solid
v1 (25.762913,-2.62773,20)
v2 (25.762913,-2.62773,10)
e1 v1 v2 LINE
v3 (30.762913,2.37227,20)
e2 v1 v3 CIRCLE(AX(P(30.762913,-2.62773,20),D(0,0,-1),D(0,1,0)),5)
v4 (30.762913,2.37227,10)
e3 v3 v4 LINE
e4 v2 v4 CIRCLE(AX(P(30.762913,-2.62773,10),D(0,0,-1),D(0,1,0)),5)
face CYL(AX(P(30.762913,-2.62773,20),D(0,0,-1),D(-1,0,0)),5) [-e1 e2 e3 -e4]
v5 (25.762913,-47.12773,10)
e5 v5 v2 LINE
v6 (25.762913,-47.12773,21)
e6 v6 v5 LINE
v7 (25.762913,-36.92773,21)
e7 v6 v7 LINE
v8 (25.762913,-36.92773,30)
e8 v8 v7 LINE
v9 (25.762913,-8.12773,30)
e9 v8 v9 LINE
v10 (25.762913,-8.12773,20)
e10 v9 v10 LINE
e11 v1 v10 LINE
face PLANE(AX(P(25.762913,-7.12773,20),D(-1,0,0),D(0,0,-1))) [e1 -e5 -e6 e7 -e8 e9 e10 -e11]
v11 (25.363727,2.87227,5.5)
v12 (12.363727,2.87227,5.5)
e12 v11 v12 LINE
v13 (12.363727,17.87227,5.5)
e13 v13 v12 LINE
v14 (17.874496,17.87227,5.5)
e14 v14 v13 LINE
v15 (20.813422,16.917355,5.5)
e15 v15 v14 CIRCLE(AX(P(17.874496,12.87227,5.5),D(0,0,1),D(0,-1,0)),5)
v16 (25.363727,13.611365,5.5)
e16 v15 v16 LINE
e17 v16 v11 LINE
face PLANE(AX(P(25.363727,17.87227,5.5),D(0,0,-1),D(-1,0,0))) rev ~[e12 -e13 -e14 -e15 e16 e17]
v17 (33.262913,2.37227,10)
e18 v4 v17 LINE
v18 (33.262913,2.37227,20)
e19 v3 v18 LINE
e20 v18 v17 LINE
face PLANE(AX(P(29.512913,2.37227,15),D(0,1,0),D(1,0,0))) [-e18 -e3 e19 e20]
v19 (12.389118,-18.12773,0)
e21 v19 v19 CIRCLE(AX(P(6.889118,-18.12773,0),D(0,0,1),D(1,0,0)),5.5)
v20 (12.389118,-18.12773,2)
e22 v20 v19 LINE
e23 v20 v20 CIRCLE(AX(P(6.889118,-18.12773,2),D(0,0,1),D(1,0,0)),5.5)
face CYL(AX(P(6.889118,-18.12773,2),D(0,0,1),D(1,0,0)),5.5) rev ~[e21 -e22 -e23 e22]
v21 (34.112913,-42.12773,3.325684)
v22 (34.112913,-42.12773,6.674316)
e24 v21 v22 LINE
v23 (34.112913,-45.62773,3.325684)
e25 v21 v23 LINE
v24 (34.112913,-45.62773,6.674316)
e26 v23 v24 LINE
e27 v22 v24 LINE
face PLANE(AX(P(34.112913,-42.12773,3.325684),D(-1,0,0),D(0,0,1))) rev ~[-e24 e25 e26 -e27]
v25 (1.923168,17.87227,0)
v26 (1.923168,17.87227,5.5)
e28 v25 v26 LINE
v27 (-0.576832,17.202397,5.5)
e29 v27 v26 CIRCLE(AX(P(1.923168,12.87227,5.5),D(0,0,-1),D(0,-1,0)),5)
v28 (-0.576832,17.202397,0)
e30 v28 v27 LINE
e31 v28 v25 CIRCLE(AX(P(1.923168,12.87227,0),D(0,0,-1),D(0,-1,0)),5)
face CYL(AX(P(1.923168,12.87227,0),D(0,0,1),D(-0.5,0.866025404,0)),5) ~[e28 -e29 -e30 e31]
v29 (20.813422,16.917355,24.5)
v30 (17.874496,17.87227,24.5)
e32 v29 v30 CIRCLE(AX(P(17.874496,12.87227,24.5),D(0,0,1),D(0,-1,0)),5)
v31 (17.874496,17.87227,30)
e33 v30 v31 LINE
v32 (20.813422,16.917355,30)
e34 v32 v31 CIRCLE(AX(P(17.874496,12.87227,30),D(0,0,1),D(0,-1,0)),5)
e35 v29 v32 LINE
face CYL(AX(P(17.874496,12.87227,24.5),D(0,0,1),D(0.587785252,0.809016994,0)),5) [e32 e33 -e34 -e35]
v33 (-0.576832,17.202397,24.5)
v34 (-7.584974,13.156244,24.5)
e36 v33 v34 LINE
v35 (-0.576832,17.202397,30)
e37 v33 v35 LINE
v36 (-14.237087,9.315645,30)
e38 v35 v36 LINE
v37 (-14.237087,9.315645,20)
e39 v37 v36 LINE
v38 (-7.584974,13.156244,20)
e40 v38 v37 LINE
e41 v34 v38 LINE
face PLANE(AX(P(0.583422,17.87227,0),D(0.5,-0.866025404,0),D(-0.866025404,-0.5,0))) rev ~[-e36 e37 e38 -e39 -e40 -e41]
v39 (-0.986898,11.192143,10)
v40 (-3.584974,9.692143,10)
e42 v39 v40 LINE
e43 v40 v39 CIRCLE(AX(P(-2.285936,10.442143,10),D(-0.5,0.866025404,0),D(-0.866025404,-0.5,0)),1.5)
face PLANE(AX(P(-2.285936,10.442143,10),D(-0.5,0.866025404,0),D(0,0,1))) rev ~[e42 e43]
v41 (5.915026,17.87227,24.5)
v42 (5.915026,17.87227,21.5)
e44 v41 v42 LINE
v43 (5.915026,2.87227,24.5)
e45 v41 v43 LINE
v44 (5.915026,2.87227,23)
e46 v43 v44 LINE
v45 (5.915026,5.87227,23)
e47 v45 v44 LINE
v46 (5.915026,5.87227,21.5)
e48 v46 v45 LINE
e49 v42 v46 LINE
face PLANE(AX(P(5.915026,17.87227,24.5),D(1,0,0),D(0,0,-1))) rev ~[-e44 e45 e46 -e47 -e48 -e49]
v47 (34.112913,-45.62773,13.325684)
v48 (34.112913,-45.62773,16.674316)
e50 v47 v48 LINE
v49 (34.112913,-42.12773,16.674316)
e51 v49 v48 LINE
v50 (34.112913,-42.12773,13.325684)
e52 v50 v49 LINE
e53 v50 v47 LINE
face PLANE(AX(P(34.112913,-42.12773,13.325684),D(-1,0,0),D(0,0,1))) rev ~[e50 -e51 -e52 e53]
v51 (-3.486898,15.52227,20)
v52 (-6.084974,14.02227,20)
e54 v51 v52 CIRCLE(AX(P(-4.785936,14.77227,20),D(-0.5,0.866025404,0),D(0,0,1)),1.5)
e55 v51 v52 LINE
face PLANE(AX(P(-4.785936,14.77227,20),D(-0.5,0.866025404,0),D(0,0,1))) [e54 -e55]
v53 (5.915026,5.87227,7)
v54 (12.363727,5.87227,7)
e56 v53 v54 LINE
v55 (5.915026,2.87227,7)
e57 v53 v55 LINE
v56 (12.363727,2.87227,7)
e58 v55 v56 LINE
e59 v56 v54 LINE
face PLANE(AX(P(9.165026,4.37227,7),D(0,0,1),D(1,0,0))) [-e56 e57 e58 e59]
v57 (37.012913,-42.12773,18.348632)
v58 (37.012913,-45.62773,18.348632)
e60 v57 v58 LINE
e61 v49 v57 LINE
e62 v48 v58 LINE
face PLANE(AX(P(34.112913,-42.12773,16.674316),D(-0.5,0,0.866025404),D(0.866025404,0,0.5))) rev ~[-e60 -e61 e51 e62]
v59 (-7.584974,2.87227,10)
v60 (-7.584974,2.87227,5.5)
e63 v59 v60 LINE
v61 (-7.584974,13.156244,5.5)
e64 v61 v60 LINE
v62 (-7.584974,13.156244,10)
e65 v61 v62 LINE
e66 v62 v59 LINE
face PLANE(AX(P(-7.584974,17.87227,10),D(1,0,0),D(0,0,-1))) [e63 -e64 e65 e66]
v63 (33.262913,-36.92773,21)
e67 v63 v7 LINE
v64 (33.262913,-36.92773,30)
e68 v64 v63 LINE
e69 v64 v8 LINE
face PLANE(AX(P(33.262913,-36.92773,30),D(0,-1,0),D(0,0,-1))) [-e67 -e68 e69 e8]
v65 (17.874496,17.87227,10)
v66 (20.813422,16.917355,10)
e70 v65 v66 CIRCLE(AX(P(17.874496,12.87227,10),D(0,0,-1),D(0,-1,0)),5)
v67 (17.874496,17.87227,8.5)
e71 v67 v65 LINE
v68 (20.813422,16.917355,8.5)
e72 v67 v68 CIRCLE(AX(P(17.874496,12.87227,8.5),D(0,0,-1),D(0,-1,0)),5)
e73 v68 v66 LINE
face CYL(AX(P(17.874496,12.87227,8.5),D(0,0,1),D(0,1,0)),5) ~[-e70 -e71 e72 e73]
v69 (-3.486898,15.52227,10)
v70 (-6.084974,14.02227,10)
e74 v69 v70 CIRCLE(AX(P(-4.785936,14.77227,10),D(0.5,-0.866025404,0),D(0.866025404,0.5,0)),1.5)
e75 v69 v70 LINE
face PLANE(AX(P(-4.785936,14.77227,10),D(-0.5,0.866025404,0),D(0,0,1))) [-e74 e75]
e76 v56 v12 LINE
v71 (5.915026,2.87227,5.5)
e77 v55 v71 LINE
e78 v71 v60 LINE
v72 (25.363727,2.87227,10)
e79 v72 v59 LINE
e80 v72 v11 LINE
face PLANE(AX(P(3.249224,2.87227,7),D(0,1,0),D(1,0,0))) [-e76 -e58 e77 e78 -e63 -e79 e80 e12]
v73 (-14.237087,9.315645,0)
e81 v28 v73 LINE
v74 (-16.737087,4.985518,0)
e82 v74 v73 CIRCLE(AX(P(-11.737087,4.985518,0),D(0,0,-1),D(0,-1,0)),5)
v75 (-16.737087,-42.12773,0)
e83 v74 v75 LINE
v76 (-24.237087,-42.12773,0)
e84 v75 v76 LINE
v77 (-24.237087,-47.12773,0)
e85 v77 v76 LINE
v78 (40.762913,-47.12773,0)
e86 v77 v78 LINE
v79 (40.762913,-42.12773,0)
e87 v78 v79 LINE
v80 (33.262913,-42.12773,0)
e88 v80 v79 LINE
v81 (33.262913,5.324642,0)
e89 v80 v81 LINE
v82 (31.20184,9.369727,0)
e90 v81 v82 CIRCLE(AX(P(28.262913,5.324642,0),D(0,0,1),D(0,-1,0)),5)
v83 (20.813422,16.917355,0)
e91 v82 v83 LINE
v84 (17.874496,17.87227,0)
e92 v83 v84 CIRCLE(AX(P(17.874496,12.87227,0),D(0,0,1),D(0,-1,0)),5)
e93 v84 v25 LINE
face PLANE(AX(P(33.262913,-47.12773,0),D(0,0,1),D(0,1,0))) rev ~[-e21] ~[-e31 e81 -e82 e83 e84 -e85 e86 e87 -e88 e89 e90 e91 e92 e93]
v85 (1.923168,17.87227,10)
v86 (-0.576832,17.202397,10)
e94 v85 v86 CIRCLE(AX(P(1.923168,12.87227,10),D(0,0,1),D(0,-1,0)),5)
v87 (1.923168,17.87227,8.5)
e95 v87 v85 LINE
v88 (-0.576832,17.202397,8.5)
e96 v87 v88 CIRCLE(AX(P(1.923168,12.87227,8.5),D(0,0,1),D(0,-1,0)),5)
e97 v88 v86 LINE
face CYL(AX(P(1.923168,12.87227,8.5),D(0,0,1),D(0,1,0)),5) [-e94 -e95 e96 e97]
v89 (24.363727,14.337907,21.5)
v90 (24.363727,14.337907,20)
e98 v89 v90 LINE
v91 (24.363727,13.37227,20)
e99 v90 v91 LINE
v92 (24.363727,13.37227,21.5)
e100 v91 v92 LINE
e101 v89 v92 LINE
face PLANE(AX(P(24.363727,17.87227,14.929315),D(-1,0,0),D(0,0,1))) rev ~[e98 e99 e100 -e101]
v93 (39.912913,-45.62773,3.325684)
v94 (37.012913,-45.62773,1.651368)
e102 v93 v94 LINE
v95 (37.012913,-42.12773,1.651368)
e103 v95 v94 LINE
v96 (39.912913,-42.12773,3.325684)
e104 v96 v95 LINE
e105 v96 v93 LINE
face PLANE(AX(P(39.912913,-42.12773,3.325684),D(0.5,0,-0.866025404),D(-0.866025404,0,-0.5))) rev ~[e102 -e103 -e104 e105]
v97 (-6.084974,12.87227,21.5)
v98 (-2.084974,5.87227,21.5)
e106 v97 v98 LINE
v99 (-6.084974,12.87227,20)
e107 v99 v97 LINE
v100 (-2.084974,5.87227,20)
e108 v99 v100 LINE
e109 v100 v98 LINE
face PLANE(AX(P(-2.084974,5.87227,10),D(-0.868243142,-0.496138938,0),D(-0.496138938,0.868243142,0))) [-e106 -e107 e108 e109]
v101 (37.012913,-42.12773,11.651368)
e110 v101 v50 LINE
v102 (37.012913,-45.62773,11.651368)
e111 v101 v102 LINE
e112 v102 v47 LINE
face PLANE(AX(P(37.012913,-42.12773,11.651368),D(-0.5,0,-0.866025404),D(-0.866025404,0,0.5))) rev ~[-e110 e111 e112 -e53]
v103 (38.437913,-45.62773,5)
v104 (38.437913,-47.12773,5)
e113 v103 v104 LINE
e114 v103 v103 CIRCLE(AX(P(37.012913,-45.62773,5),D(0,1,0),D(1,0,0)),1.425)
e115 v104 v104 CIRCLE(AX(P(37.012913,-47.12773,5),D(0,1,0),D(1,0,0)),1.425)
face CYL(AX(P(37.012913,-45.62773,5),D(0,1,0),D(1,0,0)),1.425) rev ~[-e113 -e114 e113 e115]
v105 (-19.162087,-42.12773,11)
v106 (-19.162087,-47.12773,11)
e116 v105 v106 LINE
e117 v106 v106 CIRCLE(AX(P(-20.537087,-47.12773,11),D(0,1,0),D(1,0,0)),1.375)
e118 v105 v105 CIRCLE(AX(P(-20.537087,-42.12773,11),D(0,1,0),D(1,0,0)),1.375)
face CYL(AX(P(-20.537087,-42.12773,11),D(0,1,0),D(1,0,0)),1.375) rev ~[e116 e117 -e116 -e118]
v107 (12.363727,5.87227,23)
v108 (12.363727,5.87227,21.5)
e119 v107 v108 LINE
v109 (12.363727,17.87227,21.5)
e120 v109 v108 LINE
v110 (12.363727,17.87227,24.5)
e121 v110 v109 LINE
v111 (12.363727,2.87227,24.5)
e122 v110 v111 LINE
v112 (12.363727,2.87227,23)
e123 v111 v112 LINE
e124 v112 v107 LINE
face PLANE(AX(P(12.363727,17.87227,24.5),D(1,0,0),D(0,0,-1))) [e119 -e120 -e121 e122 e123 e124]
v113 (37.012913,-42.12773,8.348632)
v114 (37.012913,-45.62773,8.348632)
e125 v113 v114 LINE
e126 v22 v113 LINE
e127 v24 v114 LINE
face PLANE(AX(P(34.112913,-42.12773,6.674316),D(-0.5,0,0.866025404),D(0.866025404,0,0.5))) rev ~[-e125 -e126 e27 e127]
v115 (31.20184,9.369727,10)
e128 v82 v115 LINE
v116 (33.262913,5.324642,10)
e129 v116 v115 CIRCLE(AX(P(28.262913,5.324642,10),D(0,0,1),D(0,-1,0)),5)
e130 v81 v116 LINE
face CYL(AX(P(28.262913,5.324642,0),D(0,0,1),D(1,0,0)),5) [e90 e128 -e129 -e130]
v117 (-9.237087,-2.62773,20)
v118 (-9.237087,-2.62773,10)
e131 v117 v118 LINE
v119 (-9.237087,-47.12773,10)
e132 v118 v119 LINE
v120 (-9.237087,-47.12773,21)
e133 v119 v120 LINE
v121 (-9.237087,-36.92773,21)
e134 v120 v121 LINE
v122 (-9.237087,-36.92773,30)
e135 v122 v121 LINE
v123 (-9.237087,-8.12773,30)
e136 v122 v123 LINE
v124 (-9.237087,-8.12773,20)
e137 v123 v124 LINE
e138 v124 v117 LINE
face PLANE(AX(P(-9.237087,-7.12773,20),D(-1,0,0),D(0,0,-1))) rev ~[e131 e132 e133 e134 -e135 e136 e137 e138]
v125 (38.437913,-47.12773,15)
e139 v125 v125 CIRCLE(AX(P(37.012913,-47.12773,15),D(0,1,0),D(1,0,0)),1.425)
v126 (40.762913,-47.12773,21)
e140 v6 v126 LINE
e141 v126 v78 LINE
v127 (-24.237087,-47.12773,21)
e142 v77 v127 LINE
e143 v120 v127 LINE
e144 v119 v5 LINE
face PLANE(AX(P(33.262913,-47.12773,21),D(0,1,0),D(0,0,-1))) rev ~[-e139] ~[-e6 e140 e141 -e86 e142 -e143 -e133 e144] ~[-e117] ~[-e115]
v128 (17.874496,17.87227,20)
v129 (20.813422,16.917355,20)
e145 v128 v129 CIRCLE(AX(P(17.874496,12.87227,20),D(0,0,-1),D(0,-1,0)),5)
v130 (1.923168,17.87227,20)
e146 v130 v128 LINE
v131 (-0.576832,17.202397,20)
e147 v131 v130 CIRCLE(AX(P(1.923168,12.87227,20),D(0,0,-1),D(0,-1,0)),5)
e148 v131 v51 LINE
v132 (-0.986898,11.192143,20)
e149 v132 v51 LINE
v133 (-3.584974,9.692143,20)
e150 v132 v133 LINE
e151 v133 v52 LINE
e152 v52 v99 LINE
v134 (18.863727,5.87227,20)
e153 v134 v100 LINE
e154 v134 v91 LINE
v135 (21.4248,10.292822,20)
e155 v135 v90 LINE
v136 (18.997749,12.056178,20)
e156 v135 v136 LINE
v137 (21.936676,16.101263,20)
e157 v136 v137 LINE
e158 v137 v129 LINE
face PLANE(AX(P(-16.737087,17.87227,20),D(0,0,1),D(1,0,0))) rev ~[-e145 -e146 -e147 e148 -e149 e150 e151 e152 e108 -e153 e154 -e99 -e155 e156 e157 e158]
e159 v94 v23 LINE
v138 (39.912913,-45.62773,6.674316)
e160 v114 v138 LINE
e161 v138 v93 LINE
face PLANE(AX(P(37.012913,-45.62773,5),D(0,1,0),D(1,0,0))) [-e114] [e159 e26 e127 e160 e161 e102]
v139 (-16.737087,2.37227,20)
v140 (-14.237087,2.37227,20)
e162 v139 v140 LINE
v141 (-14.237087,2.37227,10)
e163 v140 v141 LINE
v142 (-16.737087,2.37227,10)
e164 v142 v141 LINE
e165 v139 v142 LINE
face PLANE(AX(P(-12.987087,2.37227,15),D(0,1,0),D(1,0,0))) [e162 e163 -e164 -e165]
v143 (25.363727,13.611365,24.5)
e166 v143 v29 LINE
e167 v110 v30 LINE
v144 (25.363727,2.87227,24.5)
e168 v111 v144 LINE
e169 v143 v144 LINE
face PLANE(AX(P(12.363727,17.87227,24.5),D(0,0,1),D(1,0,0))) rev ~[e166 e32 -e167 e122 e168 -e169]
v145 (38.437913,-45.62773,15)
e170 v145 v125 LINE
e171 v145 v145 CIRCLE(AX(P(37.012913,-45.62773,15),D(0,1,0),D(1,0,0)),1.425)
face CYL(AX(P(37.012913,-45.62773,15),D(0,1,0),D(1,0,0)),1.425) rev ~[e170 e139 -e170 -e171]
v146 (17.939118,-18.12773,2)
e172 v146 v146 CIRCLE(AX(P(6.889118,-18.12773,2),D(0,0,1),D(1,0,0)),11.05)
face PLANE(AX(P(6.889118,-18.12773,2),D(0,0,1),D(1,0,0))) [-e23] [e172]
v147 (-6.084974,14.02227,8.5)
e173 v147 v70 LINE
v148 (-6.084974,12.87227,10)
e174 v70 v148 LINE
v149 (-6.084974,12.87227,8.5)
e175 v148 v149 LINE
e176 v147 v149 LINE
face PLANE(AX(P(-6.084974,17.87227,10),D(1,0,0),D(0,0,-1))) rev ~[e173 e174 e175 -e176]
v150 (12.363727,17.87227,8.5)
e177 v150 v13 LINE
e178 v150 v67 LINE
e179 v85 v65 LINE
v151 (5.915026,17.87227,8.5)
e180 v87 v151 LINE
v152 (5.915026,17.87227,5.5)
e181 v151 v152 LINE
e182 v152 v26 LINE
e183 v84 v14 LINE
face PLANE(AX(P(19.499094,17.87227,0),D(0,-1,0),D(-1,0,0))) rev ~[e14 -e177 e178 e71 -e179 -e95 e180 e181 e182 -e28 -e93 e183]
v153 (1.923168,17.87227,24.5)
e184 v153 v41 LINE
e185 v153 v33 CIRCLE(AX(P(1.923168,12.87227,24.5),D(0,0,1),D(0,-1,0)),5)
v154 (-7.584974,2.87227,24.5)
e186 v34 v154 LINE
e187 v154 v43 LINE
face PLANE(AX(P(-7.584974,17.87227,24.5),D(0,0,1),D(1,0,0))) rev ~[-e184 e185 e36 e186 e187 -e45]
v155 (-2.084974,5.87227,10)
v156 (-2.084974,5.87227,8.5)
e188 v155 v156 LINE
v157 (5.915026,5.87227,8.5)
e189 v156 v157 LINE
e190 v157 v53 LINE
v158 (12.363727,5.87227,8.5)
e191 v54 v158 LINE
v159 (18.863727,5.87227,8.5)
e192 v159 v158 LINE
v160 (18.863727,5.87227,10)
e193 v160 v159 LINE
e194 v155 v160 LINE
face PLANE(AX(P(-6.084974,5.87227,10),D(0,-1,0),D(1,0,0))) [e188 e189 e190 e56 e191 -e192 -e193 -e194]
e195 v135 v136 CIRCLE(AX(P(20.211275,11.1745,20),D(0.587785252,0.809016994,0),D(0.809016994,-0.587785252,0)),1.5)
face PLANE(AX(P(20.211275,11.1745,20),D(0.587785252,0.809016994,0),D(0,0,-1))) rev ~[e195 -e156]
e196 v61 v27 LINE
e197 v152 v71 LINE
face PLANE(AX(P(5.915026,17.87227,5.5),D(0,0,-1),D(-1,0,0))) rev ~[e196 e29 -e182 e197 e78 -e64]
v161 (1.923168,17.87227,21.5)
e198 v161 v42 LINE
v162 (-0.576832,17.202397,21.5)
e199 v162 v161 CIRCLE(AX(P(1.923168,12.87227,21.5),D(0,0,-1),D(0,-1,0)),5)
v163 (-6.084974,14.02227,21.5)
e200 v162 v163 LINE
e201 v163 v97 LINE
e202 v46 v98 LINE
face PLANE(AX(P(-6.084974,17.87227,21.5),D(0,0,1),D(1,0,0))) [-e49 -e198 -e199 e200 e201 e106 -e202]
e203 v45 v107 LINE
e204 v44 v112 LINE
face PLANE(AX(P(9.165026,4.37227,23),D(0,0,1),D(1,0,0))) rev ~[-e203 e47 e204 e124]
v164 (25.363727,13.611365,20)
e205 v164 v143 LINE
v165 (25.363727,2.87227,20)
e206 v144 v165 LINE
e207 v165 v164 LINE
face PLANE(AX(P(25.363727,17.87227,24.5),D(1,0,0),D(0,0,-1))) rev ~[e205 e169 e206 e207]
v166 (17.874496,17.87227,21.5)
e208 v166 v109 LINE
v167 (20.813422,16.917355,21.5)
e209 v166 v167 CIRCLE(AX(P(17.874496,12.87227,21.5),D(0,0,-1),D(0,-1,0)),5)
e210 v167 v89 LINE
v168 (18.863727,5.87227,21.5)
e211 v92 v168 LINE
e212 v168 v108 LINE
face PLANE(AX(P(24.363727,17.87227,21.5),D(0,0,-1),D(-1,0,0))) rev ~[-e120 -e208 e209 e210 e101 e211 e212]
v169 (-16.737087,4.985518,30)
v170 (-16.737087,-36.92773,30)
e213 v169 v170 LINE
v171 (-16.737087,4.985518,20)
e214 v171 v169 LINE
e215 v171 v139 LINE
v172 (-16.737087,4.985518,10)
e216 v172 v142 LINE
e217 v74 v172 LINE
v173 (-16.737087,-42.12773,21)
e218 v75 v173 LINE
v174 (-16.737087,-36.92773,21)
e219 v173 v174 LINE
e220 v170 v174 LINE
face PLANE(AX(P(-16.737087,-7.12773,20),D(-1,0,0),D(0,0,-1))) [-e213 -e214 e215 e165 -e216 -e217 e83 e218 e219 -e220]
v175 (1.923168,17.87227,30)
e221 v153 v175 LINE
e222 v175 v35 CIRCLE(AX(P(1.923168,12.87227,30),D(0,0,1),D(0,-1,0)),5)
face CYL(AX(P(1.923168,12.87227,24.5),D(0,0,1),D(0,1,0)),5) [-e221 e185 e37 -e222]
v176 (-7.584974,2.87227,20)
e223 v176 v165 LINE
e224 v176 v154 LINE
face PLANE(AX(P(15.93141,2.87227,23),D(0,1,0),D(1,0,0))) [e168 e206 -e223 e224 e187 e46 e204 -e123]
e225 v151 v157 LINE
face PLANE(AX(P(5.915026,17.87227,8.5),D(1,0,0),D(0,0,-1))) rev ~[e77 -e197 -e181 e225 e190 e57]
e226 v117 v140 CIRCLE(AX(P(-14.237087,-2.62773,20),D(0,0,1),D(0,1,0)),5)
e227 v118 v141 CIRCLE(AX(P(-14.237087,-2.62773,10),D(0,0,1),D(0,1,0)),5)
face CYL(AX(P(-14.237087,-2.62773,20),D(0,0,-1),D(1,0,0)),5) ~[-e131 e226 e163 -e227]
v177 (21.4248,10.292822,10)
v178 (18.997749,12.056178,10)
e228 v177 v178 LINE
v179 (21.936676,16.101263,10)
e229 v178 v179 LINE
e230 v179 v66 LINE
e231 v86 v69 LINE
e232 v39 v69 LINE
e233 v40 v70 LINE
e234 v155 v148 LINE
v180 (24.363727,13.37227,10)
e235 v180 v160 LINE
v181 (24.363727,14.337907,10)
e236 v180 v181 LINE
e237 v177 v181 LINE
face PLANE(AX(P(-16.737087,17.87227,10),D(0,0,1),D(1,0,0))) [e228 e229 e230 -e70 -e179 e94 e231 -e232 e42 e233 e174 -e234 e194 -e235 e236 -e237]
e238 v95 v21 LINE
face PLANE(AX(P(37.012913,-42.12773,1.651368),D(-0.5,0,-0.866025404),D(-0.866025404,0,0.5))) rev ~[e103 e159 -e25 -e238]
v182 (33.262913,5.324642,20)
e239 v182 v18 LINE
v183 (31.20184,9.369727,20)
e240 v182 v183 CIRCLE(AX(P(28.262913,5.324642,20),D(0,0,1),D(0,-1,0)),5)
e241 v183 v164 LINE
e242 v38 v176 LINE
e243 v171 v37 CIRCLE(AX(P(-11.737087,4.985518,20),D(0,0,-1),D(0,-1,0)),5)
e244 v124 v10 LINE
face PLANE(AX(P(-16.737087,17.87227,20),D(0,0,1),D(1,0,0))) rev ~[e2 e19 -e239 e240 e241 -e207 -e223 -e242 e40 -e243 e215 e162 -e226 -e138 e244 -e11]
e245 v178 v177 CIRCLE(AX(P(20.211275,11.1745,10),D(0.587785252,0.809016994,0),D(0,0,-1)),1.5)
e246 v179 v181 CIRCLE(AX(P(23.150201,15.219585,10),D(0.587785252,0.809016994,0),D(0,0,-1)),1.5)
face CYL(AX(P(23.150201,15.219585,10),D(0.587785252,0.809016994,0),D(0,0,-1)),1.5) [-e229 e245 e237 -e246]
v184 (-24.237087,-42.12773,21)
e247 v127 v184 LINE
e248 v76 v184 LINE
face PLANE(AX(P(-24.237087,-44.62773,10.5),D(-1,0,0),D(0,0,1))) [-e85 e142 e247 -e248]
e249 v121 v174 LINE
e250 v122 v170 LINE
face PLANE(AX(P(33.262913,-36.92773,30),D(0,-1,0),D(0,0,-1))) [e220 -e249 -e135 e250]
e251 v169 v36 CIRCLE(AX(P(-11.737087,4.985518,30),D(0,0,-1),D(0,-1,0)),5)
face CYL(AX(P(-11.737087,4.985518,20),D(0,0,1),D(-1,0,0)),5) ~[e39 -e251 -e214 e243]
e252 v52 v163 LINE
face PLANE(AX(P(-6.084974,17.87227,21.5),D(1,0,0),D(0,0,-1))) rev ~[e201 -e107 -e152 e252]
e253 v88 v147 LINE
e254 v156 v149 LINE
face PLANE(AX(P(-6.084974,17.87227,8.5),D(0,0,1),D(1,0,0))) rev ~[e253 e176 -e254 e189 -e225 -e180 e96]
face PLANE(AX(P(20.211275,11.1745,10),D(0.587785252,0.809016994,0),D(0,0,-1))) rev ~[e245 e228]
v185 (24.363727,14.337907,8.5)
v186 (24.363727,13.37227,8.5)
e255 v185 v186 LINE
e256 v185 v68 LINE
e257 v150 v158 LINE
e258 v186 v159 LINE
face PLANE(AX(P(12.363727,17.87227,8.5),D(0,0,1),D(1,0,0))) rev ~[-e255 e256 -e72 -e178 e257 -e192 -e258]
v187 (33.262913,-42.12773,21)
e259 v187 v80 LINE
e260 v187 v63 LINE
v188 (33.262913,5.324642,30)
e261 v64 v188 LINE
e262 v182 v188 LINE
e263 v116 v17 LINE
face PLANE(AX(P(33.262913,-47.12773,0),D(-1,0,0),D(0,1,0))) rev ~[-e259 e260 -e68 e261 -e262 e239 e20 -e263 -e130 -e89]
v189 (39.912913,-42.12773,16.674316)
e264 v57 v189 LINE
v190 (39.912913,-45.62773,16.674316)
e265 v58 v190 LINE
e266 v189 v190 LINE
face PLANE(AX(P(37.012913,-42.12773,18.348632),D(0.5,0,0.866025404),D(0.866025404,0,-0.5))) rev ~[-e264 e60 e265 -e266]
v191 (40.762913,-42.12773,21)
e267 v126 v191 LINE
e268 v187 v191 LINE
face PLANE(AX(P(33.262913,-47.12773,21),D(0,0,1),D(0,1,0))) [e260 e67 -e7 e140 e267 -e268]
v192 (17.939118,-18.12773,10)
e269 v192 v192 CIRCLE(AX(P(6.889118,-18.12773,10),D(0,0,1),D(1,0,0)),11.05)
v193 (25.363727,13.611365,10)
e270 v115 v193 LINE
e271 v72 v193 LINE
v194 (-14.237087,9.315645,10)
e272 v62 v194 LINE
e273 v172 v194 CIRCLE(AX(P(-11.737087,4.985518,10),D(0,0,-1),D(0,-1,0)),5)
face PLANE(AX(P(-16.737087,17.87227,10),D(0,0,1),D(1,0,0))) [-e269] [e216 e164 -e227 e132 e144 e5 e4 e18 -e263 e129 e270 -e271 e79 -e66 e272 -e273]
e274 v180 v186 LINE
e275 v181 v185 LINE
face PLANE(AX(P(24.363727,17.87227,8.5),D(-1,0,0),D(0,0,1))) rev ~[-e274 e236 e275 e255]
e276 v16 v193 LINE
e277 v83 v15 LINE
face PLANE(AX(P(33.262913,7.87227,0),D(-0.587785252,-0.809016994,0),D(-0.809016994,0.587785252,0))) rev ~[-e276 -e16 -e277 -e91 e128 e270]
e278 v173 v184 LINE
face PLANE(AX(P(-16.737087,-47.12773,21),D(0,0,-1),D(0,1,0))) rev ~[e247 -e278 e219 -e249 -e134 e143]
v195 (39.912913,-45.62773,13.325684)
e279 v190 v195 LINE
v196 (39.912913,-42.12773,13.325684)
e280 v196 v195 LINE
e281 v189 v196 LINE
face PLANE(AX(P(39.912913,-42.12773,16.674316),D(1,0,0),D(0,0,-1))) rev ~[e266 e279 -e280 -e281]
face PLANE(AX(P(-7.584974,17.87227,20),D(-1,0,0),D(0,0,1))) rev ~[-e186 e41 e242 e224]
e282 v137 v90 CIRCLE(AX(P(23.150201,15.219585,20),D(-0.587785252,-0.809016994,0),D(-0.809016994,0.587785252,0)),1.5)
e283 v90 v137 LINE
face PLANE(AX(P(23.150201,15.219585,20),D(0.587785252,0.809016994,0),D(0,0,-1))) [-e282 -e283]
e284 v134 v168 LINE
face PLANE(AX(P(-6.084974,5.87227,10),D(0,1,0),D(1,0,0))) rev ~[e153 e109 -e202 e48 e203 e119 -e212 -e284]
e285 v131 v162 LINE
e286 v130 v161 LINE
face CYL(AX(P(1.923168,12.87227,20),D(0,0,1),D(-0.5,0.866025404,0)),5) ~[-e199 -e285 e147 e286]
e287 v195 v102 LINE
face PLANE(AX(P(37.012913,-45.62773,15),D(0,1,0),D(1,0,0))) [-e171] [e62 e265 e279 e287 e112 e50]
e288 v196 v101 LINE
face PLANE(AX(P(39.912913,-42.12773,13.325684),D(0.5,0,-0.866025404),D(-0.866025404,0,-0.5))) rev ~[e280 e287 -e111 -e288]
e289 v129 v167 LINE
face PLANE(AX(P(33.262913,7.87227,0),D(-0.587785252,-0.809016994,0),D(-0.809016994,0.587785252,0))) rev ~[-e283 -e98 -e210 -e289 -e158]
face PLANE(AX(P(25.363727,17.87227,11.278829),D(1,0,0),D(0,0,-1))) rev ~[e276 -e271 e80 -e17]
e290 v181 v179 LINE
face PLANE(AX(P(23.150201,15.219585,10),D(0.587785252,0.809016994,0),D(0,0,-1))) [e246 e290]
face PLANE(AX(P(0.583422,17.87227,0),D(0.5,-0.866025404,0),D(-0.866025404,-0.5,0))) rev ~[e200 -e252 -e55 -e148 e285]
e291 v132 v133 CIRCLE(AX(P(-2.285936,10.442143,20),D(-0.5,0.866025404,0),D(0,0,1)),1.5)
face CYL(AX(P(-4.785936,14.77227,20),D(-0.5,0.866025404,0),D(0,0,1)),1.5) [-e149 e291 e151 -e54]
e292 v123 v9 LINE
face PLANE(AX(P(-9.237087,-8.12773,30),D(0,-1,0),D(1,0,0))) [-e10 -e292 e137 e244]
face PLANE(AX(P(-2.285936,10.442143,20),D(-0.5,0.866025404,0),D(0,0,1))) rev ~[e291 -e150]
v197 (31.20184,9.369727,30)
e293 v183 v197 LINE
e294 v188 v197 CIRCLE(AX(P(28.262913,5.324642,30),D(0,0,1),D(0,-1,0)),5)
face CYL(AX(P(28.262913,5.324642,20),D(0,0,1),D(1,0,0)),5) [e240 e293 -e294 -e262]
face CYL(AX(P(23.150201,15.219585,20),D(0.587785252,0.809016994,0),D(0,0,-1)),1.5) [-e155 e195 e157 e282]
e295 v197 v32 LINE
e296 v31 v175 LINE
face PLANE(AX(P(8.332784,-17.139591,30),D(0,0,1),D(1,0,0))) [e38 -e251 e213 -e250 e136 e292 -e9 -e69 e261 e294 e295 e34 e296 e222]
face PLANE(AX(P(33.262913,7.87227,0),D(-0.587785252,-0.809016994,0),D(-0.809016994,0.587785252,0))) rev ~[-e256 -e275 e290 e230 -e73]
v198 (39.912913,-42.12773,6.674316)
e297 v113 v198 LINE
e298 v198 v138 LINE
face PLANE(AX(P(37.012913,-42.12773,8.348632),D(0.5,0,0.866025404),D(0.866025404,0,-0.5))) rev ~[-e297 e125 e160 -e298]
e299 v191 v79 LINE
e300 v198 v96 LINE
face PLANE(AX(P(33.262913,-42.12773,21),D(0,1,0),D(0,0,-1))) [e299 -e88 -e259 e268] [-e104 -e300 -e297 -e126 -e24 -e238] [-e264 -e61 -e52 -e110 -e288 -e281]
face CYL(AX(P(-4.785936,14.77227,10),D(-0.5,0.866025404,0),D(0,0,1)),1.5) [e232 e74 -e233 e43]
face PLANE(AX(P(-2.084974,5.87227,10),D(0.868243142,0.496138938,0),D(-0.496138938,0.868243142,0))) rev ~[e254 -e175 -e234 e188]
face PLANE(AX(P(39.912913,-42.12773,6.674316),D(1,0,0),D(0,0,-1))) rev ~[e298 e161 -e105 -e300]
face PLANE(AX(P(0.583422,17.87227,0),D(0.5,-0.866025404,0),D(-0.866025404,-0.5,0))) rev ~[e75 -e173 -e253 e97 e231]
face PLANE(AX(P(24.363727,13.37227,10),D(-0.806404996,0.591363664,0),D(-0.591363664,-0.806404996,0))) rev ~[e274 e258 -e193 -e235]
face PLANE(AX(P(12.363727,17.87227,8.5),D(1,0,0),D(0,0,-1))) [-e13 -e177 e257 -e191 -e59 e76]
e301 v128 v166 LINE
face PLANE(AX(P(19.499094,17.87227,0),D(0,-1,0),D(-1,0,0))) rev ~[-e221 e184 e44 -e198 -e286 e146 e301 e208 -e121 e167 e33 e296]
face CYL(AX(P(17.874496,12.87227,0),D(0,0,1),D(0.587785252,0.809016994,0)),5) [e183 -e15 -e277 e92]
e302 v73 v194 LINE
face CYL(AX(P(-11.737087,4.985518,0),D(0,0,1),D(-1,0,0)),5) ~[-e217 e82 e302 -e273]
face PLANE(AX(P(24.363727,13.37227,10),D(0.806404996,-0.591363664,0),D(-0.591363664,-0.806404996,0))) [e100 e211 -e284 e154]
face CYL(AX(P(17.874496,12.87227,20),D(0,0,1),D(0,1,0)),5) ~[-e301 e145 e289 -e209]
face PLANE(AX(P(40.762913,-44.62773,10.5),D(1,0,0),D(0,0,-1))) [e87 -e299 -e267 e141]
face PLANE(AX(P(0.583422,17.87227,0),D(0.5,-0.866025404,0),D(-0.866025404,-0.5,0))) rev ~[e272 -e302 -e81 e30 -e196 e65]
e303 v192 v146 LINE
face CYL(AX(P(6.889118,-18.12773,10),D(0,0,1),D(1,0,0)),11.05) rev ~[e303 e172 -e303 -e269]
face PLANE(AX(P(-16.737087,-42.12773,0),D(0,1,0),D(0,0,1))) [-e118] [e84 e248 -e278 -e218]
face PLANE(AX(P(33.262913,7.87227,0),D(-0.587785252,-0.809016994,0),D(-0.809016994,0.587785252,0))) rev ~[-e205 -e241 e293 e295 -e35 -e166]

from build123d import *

# Parameters (mm, degrees)
BOSS_EXTRUDE1_DEPTH      = 30
SKETCH2_W                = 50
SKETCH2_H                = 10
CUT_EXTRUDE1_DEPTH       = 25
SKETCH4_R                = 1.5
BOSS_EXTRUDE2_DEPTH      = 5
SKETCH6_W                = 5.331604391
SKETCH6_H                = 3
SKETCH6_W_2              = 6.668395609
SKETCH6_W_3              = 12
SKETCH6_W_4              = 1.5
SKETCH6_H_2              = 4.5
CUT_EXTRUDE15_DEPTH      = 15
SKETCH7_W                = 30.5
SKETCH7_H                = 3
CUT_EXTRUDE16_DEPTH      = 13
CUT_EXTRUDE16_DEPTH_BACK = 3
SKETCH8_W                = 35
SKETCH8_H                = 39
CUT_EXTRUDE17_DEPTH      = 10
SKETCH3_W                = 35
SKETCH3_H                = 10
CUT_EXTRUDE18_DEPTH      = 40
SKETCH9_R                = 11.05
CUT_EXTRUDE19_DEPTH      = 8
FILLET5_R                = 5
FILLET6_R                = 5
FILLET7_R                = 5
FILLET8_R                = 5
FILLET9_R                = 5
FILLET10_R               = 5
SKETCH10_W               = 9
SKETCH10_H               = 10.2
CUT_EXTRUDE20_DEPTH      = 51
SKETCH11_R               = 1.5
BOSS_EXTRUDE3_DEPTH      = 5
SKETCH13_W               = 7.135367733
SKETCH13_H               = 3
SKETCH13_W_2             = 4.864632267
SKETCH13_W_3             = 12
CUT_EXTRUDE22_DEPTH      = 15
SKETCH14_W               = 21
SKETCH14_H               = 5
BOSS_EXTRUDE4_DEPTH      = 7.5
SKETCH15_W               = 21
SKETCH15_H               = 5
BOSS_EXTRUDE5_DEPTH      = 7.5
CUT_EXTRUDE23_DEPTH      = 3.5
SKETCH17_R               = 1.425
CUT_EXTRUDE24_DEPTH      = 2.5
SKETCH19_W               = 7.5
SKETCH19_H               = 10
BOSS_EXTRUDE7_DEPTH      = 9.5
FILLET14_R               = 5
FILLET18_R               = 5
FILLET19_R               = 5
FILLET20_R               = 5
FILLET21_R               = 5
FILLET22_R               = 5
FILLET23_R               = 5
FILLET24_R               = 5
SKETCH20_R               = 1.375
CUT_EXTRUDE25_DEPTH      = 10
SKETCH21_R               = 5.5
CUT_EXTRUDE26_DEPTH      = 10
CUT_EXTRUDE27_DEPTH      = 14
CUT_EXTRUDE27_DEPTH_BACK = 3


with BuildPart() as part:
    # Sketch1 → Boss-Extrude1 (new body)
    with BuildSketch(Plane.XY):
        Polygon((19.499094274, 17.872269618), (0.583421555, 17.872269618), (-16.737086521, 7.872269618), (-16.737086521, -47.127730382), (33.262913479, -47.127730382), (33.262913479, 7.872269618), align=None)
    extrude(amount=BOSS_EXTRUDE1_DEPTH)

    # Sketch2 → Cut-Extrude1 (cut)
    with BuildSketch(Plane(origin=(0, 17.872269618, 0), x_dir=(1, 0, 0), z_dir=(0, 1, 0))):
        with Locations((8.262913479, -15)):
            Rectangle(SKETCH2_W, SKETCH2_H)
    extrude(amount=-CUT_EXTRUDE1_DEPTH, mode=Mode.SUBTRACT)

    # Sketch4 → Boss-Extrude2 (add)
    with BuildSketch(Plane(origin=(-7.593064367, 13.151573269, 0), x_dir=(0, 0, 1), z_dir=(-0.5, 0.866025404, 0))):
        with Locations((10, 3.241392696)):
            Circle(SKETCH4_R)
        with Locations((20, 3.241392696)):
            Circle(SKETCH4_R)
    extrude(amount=-BOSS_EXTRUDE2_DEPTH)

    # Sketch6 → Cut-Extrude15 (cut)
    with BuildSketch(Plane(origin=(0, 17.872269618, 0), x_dir=(1, 0, 0), z_dir=(0, 1, 0))):
        with Locations((3.249223751, -7)):
            Rectangle(SKETCH6_W, SKETCH6_H)
        with Locations((-2.75077625, -7)):
            Rectangle(SKETCH6_W_2, SKETCH6_H)
        with Locations((-0.084974054, -23)):
            Rectangle(SKETCH6_W_3, SKETCH6_H)
        Polygon((-6.084974054, -24.5), (-6.084974054, -21.5), (-6.084974054, -20), (-7.584974054, -20), (-7.584974054, -24.5), align=None)
        with Locations((-6.834974054, -7.75)):
            Rectangle(SKETCH6_W_4, SKETCH6_H_2)
    extrude(amount=-CUT_EXTRUDE15_DEPTH, mode=Mode.SUBTRACT)

    # Sketch7 → Cut-Extrude16 (cut, two sides)
    with BuildSketch(Plane.XY.offset(10)) as cut_extrude16_sk:
        with Locations((9.165025946, 4.372269618)):
            Rectangle(SKETCH7_W, SKETCH7_H)
    extrude(amount=CUT_EXTRUDE16_DEPTH, mode=Mode.SUBTRACT)
    extrude(cut_extrude16_sk.sketch, amount=-CUT_EXTRUDE16_DEPTH_BACK, mode=Mode.SUBTRACT)

    # Sketch8 → Cut-Extrude17 (cut)
    with BuildSketch(Plane.XY.offset(30)):
        with Locations((8.262913479, -27.627730382)):
            Rectangle(SKETCH8_W, SKETCH8_H)
    extrude(amount=-CUT_EXTRUDE17_DEPTH, mode=Mode.SUBTRACT)

    # Sketch3 → Cut-Extrude18 (cut)
    with BuildSketch(Plane.XZ.offset(47.127730382)):
        with Locations((8.262913479, 15)):
            Rectangle(SKETCH3_W, SKETCH3_H)
    extrude(amount=-CUT_EXTRUDE18_DEPTH, mode=Mode.SUBTRACT)

    # Sketch9 → Cut-Extrude19 (cut)
    with BuildSketch(Plane.XY.offset(10)):
        with Locations((6.889118081, -18.127730382)):
            Circle(SKETCH9_R)
    extrude(amount=-CUT_EXTRUDE19_DEPTH, mode=Mode.SUBTRACT)

    # Fillet5
    fillet5_edges = [part.edges().sort_by_distance(p)[0] for p in [
        (-16.737086521, 7.872269618, 5),
    ]]
    fillet(fillet5_edges, radius=FILLET5_R)

    # Fillet6
    fillet6_edges = [part.edges().sort_by_distance(p)[0] for p in [
        (-16.737086521, 7.872269618, 25),
    ]]
    fillet(fillet6_edges, radius=FILLET6_R)

    # Fillet7
    fillet7_edges = [part.edges().sort_by_distance(p)[0] for p in [
        (0.583421555, 17.872269618, 2.75),
    ]]
    fillet(fillet7_edges, radius=FILLET7_R)

    # Fillet8
    fillet8_edges = [part.edges().sort_by_distance(p)[0] for p in [
        (0.583421555, 17.872269618, 9.25),
    ]]
    fillet(fillet8_edges, radius=FILLET8_R)

    # Fillet9
    fillet9_edges = [part.edges().sort_by_distance(p)[0] for p in [
        (0.583421555, 17.872269618, 20.75),
    ]]
    fillet(fillet9_edges, radius=FILLET9_R)

    # Fillet10
    fillet10_edges = [part.edges().sort_by_distance(p)[0] for p in [
        (0.583421555, 17.872269618, 27.25),
    ]]
    fillet(fillet10_edges, radius=FILLET10_R)

    # Sketch10 → Cut-Extrude20 (cut, through all)
    with BuildSketch(Plane(origin=(33.262913479, 0, 0), x_dir=(0, 0, -1), z_dir=(1, 0, 0))):
        with Locations((-25.5, -42.027730382)):
            Rectangle(SKETCH10_W, SKETCH10_H)
    extrude(amount=-CUT_EXTRUDE20_DEPTH, mode=Mode.SUBTRACT)

    # Sketch11 → Boss-Extrude3 (add)
    with BuildSketch(Plane(origin=(15.235540625, 20.969922665, 0), x_dir=(0, 0, -1), z_dir=(0.587785252, 0.809016994, 0))):
        with Locations((-20, -9.783058304)):
            Circle(SKETCH11_R)
        with Locations((-10, -9.783058304)):
            Circle(SKETCH11_R)
    extrude(amount=-BOSS_EXTRUDE3_DEPTH)

    # Sketch13 → Cut-Extrude22 (cut)
    with BuildSketch(Plane(origin=(0, 17.872269618, 0), x_dir=(1, 0, 0), z_dir=(0, 1, 0))):
        with Locations((15.931410407, -23)):
            Rectangle(SKETCH13_W, SKETCH13_H)
        with Locations((21.931410408, -23)):
            Rectangle(SKETCH13_W_2, SKETCH13_H)
        Polygon((24.363726541, -21.5), (24.363726541, -24.5), (25.363726541, -24.5), (25.363726541, -14.929315396), (24.363726541, -14.929315396), align=None)
        Polygon((24.363726541, -5.5), (24.363726541, -8.5), (24.363726541, -11.278829463), (25.363726541, -11.278829463), (25.363726541, -5.5), align=None)
        with Locations((18.363726541, -7)):
            Rectangle(SKETCH13_W_3, SKETCH13_H)
    extrude(amount=-CUT_EXTRUDE22_DEPTH, mode=Mode.SUBTRACT)

    # Sketch14 → Boss-Extrude4 (add)
    with BuildSketch(Plane.ZY.offset(16.737086521)):
        with Locations((10.5, -44.627730382)):
            Rectangle(SKETCH14_W, SKETCH14_H)
    extrude(amount=BOSS_EXTRUDE4_DEPTH)

    # Sketch15 → Boss-Extrude5 (add)
    with BuildSketch(Plane(origin=(33.262913479, 0, 0), x_dir=(0, 0, -1), z_dir=(1, 0, 0))):
        with Locations((-10.5, -44.627730382)):
            Rectangle(SKETCH15_W, SKETCH15_H)
    extrude(amount=BOSS_EXTRUDE5_DEPTH)

    # Sketch16 → Cut-Extrude23 (cut)
    with BuildSketch(Plane(origin=(0, -42.127730382, 0), x_dir=(1, 0, 0), z_dir=(0, 1, 0))):
        Polygon((37.012913479, -11.651368439), (34.112913479, -13.325684219), (34.112913479, -16.674315781), (37.012913479, -18.348631561), (39.912913479, -16.674315781), (39.912913479, -13.325684219), align=None)
        Polygon((37.012913479, -1.651368439), (34.112913479, -3.325684219), (34.112913479, -6.674315781), (37.012913479, -8.348631561), (39.912913479, -6.674315781), (39.912913479, -3.325684219), align=None)
    extrude(amount=-CUT_EXTRUDE23_DEPTH, mode=Mode.SUBTRACT)

    # Sketch17 → Cut-Extrude24 (cut, through all)
    with BuildSketch(Plane(origin=(0, -45.627730382, 0), x_dir=(1, 0, 0), z_dir=(0, 1, 0))):
        with Locations((37.012913479, -15)):
            Circle(SKETCH17_R)
        with Locations((37.012913479, -5)):
            Circle(SKETCH17_R)
    extrude(amount=-CUT_EXTRUDE24_DEPTH, mode=Mode.SUBTRACT)

    # Sketch19 → Boss-Extrude7 (add)
    with BuildSketch(Plane(origin=(0, -7.127730382, 0), x_dir=(1, 0, 0), z_dir=(0, 1, 0))):
        with Locations((-12.987086521, -15)):
            Rectangle(SKETCH19_W, SKETCH19_H)
        with Locations((29.512913479, -15)):
            Rectangle(SKETCH19_W, SKETCH19_H)
    extrude(amount=BOSS_EXTRUDE7_DEPTH)

    # Fillet14
    fillet14_edges = [part.edges().sort_by_distance(p)[0] for p in [
        (-9.237086521, 2.372269618, 15),
    ]]
    fillet(fillet14_edges, radius=FILLET14_R)

    # Fillet18
    fillet18_edges = [part.edges().sort_by_distance(p)[0] for p in [
        (25.762913479, 2.372269618, 15),
    ]]
    fillet(fillet18_edges, radius=FILLET18_R)

    # Fillet19
    fillet19_edges = [part.edges().sort_by_distance(p)[0] for p in [
        (33.262913479, 7.872269618, 5),
    ]]
    fillet(fillet19_edges, radius=FILLET19_R)

    # Fillet20
    fillet20_edges = [part.edges().sort_by_distance(p)[0] for p in [
        (33.262913479, 7.872269618, 25),
    ]]
    fillet(fillet20_edges, radius=FILLET20_R)

    # Fillet21
    fillet21_edges = [part.edges().sort_by_distance(p)[0] for p in [
        (19.499094274, 17.872269618, 2.75),
    ]]
    fillet(fillet21_edges, radius=FILLET21_R)

    # Fillet22
    fillet22_edges = [part.edges().sort_by_distance(p)[0] for p in [
        (19.499094274, 17.872269618, 9.25),
    ]]
    fillet(fillet22_edges, radius=FILLET22_R)

    # Fillet23
    fillet23_edges = [part.edges().sort_by_distance(p)[0] for p in [
        (19.499094274, 17.872269618, 27.25),
    ]]
    fillet(fillet23_edges, radius=FILLET23_R)

    # Fillet24
    fillet24_edges = [part.edges().sort_by_distance(p)[0] for p in [
        (19.499094274, 17.872269618, 20.75),
    ]]
    fillet(fillet24_edges, radius=FILLET24_R)

    # Sketch20 → Cut-Extrude25 (cut)
    with BuildSketch(Plane(origin=(0, -42.127730382, 0), x_dir=(1, 0, 0), z_dir=(0, 1, 0))):
        with Locations((-20.537086521, -11)):
            Circle(SKETCH20_R)
    extrude(amount=-CUT_EXTRUDE25_DEPTH, mode=Mode.SUBTRACT)

    # Sketch21 → Cut-Extrude26 (cut)
    with BuildSketch(Plane.XY.offset(2)):
        with Locations((6.889118081, -18.127730382)):
            Circle(SKETCH21_R)
    extrude(amount=-CUT_EXTRUDE26_DEPTH, mode=Mode.SUBTRACT)

    # Sketch22 → Cut-Extrude27 (cut, two sides)
    with BuildSketch(Plane.XY.offset(10)) as cut_extrude27_sk:
        Polygon((-2.084974054, 5.872269618), (-6.084974054, 12.872269618), (-6.084974054, 5.872269618), align=None)
        Polygon((24.363726541, 13.372269618), (18.863726541, 5.872269618), (24.363726541, 5.872269618), align=None)
    extrude(amount=CUT_EXTRUDE27_DEPTH, mode=Mode.SUBTRACT)
    extrude(cut_extrude27_sk.sketch, amount=-CUT_EXTRUDE27_DEPTH_BACK, mode=Mode.SUBTRACT)


solid = part.part
